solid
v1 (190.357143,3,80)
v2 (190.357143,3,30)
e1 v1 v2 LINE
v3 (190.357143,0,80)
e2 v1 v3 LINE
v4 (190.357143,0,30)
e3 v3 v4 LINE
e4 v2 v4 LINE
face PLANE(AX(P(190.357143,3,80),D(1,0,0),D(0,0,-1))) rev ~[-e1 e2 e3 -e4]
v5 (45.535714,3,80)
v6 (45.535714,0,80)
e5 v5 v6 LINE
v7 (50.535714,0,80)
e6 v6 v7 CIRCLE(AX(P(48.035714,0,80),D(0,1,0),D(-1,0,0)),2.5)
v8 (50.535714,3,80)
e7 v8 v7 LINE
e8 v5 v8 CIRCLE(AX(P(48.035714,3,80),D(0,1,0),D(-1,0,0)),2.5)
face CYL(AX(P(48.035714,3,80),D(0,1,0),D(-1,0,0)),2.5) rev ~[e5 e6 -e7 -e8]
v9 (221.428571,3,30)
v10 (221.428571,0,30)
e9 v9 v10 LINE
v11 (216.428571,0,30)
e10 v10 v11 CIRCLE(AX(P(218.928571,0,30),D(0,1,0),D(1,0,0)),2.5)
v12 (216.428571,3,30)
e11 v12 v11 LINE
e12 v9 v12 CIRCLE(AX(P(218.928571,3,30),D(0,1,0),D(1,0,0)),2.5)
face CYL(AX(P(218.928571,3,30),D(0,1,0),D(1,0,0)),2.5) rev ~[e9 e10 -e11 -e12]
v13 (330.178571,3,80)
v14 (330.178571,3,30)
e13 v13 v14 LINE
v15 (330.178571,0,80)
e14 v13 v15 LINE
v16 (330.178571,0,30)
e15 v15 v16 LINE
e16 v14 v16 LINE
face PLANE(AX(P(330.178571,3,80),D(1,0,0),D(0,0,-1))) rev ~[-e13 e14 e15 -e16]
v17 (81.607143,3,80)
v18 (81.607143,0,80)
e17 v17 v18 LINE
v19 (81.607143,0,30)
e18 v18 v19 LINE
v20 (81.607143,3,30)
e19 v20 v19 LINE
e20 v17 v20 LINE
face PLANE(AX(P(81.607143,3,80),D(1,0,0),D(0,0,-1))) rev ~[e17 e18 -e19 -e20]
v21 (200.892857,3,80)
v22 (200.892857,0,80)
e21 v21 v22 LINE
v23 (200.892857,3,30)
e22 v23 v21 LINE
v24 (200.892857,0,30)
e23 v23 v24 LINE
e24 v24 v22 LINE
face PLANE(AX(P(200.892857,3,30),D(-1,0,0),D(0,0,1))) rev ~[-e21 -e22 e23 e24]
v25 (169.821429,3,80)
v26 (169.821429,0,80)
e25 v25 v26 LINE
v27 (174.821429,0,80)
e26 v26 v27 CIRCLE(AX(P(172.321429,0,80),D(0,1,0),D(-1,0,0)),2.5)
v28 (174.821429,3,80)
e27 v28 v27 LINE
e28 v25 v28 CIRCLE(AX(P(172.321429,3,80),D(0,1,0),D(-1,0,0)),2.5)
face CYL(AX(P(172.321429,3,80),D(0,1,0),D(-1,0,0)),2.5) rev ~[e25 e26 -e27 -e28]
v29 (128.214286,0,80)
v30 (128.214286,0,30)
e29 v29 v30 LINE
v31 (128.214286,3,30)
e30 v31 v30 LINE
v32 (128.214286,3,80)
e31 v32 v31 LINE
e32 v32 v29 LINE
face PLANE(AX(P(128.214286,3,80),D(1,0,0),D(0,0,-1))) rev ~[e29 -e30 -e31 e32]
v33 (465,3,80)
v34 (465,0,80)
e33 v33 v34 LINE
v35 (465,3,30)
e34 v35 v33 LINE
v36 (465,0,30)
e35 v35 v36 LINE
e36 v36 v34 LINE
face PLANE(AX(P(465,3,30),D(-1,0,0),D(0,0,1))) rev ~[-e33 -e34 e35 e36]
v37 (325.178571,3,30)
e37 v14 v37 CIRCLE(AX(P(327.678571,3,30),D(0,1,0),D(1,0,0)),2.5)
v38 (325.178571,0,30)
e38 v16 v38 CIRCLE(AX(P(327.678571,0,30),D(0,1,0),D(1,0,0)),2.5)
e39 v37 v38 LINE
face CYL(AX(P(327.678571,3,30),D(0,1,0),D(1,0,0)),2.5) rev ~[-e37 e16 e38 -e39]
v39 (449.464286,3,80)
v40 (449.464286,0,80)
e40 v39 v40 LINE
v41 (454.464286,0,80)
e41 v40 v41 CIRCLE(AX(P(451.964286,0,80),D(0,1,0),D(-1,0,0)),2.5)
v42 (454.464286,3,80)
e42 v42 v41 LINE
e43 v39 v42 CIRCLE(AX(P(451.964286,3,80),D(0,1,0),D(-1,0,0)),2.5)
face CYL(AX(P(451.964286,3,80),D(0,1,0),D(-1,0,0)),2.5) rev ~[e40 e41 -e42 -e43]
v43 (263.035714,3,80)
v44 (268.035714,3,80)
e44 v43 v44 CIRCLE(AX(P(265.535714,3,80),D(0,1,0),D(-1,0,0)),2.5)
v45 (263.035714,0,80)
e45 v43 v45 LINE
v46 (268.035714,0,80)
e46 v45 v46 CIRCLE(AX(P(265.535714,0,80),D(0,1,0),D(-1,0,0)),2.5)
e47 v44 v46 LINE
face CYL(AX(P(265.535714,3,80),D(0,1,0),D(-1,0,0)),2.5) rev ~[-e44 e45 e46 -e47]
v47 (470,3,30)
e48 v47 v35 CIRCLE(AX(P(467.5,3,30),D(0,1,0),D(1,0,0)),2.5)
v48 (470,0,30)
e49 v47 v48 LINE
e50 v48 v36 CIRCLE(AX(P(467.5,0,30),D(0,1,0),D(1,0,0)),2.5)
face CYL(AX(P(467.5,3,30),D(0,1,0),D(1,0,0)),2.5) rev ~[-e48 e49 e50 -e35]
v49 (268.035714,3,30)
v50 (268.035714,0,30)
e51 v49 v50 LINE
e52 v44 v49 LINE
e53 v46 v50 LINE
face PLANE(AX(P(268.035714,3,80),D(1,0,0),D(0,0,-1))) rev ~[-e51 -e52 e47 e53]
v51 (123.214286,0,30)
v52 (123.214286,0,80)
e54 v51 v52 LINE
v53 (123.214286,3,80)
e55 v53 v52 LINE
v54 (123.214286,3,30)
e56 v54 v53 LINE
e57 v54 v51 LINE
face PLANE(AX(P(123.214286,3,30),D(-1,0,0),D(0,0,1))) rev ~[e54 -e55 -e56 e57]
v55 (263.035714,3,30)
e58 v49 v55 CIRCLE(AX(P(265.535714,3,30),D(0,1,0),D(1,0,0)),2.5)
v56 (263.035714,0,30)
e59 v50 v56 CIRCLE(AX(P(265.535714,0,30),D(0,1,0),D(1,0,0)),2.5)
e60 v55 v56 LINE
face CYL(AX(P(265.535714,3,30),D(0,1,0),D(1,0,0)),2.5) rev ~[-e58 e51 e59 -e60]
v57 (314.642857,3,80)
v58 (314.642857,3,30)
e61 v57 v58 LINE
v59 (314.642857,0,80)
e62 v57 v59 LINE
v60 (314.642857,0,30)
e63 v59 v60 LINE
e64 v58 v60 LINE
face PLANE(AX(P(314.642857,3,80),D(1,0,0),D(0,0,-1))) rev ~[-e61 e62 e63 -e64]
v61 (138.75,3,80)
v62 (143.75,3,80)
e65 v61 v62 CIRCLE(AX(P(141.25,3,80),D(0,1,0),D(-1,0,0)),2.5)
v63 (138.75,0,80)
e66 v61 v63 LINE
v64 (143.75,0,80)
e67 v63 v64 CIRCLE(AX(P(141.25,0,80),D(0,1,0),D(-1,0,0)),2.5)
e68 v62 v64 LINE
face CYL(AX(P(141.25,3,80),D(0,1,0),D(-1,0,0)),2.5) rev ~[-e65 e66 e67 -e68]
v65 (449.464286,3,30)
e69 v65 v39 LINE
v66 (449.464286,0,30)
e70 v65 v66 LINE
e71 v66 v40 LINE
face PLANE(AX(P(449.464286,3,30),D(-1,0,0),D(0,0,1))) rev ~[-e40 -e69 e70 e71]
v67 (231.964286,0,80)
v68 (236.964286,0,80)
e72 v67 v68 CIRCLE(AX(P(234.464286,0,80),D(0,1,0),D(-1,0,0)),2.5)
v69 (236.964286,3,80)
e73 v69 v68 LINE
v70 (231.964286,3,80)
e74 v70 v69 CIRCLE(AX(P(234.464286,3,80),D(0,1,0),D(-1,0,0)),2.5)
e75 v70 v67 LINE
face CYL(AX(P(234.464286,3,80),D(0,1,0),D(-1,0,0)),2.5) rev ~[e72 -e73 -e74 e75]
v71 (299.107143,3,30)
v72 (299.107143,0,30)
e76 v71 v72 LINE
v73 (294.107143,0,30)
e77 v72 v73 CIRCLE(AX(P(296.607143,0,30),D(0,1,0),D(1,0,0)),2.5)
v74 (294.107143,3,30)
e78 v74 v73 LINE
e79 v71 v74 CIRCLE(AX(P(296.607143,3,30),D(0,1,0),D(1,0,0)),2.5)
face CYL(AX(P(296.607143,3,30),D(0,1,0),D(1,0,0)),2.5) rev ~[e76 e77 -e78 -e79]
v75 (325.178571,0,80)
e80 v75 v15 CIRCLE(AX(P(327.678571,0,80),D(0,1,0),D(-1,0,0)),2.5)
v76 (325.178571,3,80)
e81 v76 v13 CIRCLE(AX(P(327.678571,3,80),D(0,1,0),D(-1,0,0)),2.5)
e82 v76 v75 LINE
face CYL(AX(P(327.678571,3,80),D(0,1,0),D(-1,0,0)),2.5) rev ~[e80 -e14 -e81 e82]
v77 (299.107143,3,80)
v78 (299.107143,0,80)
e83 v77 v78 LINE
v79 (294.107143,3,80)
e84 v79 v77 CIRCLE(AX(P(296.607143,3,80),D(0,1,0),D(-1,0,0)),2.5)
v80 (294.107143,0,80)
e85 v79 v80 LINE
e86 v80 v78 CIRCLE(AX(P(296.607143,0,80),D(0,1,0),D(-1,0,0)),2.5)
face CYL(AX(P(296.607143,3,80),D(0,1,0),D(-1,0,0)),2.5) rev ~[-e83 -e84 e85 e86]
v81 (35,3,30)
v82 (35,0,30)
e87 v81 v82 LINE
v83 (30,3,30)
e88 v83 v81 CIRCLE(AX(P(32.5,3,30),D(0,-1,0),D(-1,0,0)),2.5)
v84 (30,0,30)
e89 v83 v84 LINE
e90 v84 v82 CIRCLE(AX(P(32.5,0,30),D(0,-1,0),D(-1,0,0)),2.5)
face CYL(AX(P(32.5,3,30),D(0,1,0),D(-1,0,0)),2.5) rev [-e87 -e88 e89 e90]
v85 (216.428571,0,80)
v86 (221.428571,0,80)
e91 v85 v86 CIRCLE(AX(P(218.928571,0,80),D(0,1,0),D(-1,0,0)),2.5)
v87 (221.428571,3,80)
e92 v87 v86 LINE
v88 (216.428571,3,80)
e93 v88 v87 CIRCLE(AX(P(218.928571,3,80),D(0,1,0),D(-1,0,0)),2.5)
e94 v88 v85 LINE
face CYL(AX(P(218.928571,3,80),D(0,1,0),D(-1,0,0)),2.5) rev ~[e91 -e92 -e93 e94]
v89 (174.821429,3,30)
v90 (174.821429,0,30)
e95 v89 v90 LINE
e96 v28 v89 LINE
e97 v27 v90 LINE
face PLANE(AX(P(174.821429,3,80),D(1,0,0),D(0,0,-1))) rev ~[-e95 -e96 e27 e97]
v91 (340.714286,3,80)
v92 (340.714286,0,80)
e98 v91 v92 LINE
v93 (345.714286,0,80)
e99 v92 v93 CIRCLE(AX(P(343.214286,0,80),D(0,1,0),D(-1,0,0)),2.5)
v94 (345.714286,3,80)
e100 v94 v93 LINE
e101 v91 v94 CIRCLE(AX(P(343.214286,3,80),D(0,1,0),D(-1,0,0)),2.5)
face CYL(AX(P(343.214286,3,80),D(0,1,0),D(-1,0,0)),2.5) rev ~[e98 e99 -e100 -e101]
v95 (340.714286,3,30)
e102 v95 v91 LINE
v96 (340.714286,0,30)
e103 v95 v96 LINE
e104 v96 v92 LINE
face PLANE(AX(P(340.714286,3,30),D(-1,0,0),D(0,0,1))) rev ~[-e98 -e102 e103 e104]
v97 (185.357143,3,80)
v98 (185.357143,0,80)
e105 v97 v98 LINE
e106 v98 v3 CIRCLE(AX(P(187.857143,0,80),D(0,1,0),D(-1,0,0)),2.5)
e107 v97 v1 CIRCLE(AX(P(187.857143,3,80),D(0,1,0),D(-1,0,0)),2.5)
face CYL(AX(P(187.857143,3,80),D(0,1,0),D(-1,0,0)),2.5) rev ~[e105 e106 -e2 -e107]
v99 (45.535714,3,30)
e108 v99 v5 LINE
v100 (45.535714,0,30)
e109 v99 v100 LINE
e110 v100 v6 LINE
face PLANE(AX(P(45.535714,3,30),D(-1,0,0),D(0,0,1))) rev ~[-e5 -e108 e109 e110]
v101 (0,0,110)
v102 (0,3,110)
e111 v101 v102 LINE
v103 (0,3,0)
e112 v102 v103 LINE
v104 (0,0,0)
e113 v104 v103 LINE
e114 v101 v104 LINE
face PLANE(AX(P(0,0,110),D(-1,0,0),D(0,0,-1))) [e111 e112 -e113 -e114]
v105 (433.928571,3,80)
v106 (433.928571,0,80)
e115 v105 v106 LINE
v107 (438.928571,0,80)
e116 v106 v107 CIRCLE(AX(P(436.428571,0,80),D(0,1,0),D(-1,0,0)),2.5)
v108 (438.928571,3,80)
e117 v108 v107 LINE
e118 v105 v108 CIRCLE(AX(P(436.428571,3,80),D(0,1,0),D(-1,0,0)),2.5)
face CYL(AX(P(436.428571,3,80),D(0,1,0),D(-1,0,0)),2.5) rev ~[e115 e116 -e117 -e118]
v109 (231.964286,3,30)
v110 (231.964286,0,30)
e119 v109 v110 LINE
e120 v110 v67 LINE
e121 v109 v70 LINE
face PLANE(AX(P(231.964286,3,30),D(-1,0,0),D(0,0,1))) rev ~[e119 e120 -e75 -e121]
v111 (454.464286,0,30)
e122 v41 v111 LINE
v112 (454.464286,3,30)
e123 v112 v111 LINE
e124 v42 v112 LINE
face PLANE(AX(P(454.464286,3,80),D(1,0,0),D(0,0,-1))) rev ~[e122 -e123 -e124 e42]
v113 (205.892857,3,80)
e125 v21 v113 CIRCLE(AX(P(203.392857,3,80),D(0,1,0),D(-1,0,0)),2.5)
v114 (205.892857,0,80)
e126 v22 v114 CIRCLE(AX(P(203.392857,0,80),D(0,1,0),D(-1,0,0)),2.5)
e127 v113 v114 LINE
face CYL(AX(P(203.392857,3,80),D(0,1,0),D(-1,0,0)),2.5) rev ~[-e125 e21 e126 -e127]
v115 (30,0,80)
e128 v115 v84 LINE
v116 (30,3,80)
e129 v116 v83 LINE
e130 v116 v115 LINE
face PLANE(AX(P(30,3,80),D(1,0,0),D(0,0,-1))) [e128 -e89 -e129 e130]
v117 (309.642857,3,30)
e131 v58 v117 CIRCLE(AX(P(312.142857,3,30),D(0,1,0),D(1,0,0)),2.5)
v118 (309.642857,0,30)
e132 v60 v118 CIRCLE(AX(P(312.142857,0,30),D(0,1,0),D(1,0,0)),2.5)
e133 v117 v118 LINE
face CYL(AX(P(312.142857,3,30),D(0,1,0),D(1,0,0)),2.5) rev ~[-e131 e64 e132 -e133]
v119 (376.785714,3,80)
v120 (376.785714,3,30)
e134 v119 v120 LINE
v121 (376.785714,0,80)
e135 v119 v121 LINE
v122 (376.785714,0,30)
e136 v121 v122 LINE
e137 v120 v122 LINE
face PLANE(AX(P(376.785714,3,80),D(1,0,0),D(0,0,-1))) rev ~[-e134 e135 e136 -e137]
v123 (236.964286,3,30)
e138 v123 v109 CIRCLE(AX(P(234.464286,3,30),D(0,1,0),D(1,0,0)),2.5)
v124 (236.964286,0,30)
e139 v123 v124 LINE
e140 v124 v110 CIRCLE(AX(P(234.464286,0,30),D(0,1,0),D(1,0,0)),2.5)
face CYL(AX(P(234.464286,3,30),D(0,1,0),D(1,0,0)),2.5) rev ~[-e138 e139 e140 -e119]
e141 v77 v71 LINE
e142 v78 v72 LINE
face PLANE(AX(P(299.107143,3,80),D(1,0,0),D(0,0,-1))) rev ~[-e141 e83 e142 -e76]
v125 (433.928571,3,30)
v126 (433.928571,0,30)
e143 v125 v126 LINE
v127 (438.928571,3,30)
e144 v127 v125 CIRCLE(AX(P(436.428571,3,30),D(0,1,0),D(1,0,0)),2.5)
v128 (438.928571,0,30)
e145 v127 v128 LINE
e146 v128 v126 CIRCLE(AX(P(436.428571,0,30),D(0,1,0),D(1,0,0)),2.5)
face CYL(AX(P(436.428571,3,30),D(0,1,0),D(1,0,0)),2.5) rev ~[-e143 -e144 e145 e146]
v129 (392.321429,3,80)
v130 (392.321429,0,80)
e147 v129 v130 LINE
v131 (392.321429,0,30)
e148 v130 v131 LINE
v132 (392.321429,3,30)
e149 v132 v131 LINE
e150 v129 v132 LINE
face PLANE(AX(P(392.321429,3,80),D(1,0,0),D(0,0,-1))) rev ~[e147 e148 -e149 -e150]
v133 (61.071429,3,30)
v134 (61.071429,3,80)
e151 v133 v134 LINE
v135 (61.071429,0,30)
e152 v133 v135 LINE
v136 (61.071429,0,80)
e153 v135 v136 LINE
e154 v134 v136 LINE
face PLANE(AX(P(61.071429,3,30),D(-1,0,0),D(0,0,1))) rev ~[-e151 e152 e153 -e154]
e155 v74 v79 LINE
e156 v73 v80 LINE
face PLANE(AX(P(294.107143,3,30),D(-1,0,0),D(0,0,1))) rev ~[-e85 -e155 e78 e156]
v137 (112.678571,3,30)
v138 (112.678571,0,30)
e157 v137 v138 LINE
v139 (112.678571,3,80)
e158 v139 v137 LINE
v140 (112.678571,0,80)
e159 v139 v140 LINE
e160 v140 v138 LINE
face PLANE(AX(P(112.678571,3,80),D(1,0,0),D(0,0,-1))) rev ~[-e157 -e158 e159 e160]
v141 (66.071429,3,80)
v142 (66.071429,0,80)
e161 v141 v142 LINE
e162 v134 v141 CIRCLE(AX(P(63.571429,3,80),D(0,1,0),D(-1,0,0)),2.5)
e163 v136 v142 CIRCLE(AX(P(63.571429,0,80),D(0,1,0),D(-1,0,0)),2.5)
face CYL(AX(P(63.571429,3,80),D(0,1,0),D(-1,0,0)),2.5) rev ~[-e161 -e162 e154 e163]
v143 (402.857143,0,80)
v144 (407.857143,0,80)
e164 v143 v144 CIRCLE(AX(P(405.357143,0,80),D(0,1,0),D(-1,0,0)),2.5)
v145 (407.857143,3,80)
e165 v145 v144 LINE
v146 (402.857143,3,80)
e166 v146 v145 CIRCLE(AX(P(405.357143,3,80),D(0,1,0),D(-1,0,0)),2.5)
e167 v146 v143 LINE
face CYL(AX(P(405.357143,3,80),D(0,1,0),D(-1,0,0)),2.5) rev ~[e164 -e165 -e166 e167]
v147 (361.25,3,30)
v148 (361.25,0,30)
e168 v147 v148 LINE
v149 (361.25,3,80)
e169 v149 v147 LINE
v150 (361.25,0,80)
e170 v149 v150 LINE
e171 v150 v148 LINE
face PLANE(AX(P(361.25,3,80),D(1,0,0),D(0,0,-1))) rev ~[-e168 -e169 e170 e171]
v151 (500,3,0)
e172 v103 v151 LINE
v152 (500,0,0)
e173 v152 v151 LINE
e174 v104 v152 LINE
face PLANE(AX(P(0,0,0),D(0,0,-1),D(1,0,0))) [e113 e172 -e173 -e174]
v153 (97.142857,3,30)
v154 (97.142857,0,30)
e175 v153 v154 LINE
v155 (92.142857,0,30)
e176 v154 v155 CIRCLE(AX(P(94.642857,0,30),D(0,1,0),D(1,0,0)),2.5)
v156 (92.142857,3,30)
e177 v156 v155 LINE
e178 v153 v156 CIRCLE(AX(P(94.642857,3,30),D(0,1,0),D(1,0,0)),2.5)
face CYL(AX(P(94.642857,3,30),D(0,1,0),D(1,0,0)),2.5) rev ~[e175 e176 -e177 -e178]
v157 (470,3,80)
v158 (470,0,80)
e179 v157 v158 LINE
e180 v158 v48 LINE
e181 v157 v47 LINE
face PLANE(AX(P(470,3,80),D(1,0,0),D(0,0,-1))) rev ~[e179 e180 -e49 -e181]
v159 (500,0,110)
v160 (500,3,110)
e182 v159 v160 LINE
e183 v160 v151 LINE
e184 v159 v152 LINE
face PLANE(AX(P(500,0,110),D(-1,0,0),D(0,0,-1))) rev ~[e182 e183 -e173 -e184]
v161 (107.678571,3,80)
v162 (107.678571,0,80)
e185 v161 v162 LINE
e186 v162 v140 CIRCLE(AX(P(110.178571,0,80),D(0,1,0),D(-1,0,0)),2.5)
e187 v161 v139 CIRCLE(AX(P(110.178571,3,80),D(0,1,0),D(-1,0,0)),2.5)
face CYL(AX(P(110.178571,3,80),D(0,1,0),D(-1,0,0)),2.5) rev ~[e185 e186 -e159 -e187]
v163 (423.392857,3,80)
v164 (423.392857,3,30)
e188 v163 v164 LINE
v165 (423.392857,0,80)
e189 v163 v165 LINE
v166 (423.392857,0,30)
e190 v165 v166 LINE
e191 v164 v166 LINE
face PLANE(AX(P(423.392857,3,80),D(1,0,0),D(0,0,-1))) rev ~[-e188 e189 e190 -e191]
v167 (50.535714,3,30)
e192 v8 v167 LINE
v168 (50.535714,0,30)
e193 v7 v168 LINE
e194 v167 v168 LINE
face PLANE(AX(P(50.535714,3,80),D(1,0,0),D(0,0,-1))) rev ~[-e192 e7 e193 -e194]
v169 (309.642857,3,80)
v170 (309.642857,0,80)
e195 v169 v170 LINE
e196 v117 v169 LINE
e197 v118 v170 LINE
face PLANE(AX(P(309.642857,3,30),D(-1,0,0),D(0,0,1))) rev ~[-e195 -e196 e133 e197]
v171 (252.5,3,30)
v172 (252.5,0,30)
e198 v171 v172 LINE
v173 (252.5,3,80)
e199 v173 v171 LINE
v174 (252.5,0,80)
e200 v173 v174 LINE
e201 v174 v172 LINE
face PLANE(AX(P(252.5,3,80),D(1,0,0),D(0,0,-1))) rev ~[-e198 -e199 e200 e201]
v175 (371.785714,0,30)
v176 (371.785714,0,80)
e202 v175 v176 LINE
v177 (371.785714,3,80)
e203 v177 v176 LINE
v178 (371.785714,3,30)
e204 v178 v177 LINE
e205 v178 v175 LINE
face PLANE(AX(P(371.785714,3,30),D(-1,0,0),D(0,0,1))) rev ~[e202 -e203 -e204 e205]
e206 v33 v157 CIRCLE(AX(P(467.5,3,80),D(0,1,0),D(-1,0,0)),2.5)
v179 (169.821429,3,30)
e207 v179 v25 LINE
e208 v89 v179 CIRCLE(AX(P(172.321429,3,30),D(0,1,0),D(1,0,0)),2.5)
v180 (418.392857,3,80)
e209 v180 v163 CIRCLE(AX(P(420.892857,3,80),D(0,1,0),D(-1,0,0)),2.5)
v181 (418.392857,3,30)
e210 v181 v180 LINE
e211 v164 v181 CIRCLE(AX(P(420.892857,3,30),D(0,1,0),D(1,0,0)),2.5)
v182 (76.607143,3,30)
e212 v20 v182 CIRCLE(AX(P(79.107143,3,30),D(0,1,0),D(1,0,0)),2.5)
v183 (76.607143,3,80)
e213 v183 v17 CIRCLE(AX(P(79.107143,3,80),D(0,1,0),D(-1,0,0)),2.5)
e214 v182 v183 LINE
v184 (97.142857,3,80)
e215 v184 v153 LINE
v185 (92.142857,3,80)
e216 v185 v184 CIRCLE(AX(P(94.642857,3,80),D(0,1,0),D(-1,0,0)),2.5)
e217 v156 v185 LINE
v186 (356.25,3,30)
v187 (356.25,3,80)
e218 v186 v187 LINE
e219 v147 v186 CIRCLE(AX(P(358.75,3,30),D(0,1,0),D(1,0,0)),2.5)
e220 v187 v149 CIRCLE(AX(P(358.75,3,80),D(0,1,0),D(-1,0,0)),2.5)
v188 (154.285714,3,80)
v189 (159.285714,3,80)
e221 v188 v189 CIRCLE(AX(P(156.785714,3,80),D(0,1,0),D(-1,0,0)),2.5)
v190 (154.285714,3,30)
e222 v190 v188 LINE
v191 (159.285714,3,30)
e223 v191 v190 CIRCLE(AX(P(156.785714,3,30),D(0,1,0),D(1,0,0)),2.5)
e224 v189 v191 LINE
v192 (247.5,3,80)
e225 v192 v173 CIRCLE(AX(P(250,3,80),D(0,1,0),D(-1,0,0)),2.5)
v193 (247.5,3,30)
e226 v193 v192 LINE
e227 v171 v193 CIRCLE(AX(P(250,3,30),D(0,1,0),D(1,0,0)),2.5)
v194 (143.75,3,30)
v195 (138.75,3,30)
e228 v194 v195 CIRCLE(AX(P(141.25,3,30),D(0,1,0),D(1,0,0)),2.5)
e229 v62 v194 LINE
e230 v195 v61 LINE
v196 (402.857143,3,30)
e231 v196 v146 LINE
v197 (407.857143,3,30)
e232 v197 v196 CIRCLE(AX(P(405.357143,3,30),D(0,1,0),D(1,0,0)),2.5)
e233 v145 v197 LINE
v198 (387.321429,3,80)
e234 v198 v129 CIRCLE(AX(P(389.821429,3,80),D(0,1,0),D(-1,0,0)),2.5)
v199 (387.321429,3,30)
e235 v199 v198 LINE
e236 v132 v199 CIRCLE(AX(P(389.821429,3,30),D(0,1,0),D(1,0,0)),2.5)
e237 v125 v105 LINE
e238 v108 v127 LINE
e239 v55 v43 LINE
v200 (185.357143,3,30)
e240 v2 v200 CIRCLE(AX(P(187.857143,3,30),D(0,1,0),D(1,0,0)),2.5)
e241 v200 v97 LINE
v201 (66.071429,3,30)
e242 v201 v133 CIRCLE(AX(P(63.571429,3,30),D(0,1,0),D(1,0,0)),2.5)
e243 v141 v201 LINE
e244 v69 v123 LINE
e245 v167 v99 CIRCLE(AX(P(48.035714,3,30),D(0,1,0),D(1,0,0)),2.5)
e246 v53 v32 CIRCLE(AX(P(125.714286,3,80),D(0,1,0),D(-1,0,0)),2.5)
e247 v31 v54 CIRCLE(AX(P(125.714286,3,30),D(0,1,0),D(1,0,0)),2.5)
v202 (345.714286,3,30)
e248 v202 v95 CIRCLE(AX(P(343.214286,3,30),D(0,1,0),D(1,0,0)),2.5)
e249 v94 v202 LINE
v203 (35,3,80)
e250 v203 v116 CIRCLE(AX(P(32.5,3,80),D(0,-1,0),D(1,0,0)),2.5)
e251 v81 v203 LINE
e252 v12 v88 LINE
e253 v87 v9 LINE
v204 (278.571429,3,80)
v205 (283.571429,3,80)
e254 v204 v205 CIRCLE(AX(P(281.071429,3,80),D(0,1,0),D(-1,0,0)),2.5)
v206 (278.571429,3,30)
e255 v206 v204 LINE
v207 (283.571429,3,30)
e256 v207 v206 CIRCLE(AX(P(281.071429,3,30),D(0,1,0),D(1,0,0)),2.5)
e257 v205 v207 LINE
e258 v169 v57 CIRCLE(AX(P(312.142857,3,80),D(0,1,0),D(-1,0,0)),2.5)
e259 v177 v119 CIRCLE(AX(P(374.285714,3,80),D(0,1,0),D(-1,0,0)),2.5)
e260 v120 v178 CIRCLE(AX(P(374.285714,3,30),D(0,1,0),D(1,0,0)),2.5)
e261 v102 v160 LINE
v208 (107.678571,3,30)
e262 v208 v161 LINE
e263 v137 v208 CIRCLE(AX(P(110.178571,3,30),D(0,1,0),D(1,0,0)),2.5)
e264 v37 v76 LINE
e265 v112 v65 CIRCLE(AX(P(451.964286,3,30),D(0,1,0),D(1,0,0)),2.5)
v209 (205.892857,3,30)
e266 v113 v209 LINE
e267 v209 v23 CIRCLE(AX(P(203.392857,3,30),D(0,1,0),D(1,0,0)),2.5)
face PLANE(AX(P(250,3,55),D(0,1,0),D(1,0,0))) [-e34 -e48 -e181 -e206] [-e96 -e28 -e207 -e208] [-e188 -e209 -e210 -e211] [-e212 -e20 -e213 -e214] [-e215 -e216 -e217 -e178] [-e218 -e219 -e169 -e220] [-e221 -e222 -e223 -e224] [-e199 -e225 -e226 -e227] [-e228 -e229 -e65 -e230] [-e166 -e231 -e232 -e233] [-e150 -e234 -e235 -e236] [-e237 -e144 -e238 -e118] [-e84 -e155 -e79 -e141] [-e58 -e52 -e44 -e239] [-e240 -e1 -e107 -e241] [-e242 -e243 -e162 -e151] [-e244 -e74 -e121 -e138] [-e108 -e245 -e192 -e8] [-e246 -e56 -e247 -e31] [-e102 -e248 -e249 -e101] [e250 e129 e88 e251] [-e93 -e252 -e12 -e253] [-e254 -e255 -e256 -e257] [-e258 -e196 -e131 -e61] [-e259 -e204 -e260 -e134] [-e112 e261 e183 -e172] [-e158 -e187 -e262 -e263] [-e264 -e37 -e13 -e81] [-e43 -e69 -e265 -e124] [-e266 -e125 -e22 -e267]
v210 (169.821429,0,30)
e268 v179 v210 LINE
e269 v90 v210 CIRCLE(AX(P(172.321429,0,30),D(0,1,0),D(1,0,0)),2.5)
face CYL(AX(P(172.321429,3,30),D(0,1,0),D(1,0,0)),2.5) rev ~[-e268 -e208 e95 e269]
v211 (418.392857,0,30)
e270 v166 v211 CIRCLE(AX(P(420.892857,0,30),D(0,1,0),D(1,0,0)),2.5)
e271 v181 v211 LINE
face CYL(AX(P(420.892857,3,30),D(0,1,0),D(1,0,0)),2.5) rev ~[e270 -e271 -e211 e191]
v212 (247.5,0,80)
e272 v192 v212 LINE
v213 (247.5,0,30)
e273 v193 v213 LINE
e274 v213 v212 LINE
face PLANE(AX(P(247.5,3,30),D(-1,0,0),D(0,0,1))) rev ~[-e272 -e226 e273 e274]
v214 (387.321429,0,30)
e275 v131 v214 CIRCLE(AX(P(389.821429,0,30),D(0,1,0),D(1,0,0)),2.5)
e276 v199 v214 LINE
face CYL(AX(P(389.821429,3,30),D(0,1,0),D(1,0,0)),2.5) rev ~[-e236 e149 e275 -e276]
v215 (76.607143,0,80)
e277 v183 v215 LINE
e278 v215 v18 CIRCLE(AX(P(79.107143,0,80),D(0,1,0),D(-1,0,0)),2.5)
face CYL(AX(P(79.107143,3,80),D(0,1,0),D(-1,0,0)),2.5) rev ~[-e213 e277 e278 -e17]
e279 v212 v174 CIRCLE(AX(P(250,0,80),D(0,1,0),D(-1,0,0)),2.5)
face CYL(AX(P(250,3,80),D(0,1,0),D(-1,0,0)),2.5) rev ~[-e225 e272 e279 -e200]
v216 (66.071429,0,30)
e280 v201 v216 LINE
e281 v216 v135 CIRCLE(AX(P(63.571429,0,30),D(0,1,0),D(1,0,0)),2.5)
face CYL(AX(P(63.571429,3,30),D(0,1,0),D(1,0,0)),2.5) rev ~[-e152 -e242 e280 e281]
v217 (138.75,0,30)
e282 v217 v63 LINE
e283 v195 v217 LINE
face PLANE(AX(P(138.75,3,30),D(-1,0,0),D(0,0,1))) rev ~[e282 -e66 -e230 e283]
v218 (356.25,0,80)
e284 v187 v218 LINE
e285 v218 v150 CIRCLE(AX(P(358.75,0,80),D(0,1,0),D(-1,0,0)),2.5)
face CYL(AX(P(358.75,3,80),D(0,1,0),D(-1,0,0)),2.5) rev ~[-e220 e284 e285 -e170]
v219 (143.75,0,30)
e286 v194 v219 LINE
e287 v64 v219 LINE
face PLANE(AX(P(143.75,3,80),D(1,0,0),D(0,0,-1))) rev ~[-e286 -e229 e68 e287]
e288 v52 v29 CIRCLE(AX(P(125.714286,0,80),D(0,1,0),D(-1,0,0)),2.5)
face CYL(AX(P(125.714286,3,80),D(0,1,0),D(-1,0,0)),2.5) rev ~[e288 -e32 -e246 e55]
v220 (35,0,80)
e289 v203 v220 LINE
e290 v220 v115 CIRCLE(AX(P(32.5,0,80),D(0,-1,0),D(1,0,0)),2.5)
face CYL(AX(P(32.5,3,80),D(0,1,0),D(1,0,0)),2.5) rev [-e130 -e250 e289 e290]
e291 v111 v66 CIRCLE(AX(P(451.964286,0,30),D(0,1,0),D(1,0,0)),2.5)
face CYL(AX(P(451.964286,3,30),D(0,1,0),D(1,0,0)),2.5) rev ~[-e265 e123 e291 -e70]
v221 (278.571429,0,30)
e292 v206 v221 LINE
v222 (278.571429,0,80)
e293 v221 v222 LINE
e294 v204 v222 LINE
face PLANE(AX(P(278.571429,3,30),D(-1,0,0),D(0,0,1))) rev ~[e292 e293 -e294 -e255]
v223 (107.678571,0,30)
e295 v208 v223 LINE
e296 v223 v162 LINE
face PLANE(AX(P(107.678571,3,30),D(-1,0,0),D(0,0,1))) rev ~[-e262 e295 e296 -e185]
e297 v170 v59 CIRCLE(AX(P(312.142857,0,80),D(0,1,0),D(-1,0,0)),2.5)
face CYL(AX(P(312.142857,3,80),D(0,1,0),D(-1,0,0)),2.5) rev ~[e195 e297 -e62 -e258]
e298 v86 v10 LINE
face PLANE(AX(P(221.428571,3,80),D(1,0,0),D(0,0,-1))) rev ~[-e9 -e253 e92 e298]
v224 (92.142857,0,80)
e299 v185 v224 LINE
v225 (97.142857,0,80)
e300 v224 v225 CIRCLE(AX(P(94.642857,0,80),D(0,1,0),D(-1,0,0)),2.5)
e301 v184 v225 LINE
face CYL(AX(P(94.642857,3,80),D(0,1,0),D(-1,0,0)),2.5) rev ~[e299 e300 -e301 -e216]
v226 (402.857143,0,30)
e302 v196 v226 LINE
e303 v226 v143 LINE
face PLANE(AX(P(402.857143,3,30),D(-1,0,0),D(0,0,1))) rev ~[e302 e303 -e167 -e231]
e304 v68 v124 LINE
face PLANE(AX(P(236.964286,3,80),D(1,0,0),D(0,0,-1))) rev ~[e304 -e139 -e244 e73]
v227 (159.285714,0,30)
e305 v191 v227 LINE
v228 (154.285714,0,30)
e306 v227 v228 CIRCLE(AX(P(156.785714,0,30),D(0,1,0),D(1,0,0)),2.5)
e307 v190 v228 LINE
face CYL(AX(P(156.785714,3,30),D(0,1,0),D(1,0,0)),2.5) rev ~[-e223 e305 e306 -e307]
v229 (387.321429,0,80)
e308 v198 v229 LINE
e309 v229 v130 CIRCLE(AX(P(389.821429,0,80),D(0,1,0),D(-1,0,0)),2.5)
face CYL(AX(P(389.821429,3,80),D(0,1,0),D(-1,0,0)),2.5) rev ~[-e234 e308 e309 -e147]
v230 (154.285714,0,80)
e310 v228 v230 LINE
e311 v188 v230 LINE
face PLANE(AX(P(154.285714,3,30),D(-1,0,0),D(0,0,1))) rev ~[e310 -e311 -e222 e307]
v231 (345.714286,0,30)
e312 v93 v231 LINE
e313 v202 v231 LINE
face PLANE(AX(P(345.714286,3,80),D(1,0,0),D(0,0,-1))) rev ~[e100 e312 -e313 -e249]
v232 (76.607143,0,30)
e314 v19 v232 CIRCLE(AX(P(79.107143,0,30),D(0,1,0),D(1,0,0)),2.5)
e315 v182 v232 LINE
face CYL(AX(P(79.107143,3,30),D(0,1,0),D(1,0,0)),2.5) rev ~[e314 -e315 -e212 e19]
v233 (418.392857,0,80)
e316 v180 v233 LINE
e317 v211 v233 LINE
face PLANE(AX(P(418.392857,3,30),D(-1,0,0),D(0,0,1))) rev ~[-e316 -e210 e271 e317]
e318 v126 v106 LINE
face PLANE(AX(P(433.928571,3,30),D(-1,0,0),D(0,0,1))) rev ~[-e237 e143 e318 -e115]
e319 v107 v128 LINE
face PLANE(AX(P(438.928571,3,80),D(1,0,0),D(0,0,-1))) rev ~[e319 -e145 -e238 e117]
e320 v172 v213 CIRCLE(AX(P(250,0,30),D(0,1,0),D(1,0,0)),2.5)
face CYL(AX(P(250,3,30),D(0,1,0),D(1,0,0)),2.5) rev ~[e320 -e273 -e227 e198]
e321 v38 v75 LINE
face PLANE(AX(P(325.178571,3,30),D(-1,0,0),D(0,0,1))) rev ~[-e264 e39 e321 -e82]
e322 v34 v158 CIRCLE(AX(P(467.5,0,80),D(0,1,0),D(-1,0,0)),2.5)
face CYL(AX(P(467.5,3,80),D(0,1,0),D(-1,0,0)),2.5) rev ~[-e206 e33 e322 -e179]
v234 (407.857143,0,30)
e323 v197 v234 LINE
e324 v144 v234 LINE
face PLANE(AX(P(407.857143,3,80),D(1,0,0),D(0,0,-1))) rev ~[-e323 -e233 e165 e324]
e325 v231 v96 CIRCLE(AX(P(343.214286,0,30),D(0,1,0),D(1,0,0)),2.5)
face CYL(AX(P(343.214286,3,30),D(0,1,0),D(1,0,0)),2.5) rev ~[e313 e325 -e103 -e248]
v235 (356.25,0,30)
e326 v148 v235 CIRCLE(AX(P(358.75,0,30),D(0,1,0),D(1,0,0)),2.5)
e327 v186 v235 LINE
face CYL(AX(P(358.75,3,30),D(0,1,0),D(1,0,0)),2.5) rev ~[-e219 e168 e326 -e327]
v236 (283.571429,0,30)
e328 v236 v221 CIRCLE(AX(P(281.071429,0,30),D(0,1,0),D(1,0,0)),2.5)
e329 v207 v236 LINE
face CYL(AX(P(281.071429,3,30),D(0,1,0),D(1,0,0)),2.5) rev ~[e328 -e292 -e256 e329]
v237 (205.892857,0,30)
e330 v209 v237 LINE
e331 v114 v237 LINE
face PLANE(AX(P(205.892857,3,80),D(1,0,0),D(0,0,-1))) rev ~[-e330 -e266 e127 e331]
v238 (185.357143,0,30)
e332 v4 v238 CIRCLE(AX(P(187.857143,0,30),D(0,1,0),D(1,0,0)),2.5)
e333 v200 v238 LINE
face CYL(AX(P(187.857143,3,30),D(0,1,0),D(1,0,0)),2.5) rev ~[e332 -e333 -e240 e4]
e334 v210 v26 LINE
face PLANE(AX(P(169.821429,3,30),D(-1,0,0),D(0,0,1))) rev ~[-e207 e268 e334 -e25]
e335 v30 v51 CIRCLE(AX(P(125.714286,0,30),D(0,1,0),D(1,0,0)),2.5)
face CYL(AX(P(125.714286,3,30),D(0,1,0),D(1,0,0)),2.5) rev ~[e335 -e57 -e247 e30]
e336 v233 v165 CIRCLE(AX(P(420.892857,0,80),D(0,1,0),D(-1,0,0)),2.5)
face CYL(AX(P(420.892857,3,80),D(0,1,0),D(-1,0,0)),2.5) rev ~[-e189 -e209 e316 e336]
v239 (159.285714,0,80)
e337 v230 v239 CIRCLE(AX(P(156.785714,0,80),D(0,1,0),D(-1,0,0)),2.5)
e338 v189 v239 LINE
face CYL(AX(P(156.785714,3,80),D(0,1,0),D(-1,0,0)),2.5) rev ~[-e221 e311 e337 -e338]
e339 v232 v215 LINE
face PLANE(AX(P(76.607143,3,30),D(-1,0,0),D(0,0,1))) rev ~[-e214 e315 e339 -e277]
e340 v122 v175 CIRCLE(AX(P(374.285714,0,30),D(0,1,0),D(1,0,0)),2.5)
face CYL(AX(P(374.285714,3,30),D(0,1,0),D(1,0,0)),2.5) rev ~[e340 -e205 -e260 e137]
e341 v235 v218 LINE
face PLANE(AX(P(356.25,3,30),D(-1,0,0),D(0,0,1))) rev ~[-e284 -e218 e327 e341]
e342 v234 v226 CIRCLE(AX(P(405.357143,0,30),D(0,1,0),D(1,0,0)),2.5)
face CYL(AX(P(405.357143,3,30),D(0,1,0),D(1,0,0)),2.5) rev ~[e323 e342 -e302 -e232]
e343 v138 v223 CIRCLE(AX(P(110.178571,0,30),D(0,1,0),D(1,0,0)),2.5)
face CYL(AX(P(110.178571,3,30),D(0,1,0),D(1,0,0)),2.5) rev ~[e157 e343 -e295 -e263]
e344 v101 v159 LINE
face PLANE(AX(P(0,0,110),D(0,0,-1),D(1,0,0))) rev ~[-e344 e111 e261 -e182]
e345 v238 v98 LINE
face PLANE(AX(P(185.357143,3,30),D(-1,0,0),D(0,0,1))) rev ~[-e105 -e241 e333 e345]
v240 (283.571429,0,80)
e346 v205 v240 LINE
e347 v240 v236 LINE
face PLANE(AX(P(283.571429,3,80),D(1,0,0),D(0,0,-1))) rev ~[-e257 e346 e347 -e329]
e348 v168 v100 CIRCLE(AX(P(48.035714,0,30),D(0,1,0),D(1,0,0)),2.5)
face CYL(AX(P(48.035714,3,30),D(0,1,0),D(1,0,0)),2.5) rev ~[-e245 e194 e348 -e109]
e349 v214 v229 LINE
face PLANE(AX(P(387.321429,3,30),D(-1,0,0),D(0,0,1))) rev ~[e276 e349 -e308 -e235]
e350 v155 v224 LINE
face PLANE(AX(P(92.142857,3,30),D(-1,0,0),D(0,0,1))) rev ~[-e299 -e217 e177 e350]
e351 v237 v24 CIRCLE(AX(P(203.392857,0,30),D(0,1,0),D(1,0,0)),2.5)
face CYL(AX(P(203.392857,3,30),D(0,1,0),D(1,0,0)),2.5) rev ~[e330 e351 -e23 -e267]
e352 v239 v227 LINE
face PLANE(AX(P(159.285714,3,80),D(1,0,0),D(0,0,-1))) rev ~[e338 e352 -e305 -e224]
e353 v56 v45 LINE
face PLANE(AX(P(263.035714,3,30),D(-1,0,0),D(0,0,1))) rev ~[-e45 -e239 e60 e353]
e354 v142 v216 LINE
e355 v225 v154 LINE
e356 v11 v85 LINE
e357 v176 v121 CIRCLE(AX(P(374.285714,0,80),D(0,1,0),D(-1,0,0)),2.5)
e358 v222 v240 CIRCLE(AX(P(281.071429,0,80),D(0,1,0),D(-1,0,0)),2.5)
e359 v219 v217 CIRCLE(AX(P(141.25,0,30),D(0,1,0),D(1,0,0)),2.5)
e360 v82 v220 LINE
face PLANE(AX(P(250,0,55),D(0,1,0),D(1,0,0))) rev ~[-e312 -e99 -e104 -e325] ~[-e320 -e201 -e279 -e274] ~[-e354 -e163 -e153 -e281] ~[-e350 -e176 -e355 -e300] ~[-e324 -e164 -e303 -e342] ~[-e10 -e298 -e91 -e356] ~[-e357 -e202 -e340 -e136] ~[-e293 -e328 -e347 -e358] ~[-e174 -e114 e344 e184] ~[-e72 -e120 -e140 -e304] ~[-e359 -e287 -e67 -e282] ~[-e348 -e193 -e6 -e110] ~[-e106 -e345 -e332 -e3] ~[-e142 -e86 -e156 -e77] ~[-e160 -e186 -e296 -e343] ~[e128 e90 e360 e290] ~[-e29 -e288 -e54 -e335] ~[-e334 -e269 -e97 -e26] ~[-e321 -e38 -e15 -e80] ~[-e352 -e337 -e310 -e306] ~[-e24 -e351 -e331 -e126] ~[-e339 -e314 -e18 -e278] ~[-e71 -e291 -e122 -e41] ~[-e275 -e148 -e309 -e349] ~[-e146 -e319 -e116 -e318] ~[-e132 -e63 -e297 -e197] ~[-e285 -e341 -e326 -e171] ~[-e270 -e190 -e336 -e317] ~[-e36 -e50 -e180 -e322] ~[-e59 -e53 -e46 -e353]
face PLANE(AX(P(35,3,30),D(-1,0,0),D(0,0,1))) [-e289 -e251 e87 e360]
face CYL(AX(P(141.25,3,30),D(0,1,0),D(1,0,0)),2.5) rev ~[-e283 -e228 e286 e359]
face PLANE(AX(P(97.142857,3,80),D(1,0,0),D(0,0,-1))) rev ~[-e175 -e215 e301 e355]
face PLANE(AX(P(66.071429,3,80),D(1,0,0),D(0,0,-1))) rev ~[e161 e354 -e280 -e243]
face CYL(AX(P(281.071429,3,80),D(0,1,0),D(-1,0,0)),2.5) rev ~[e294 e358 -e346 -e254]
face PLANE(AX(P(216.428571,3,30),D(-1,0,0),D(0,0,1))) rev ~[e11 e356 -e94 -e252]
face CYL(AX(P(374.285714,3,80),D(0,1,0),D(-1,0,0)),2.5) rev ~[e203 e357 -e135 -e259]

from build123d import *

# Parameters (mm, degrees)
IZIM1_W                     = 500
IZIM1_H                     = 110
Y_KSEKLIK_EKSTR_ZYON1_DEPTH = 3
KES_EKSTR_ZYON1_DEPTH       = 3


with BuildPart() as part:
    # Çizim1 → Yükseklik-Ekstrüzyon1 (new body)
    with BuildSketch(Plane(origin=(0, 0, 0), x_dir=(1, 0, 0), z_dir=(0, 1, 0))):
        with Locations((250, -55)):
            Rectangle(IZIM1_W, IZIM1_H)
    extrude(amount=Y_KSEKLIK_EKSTR_ZYON1_DEPTH)

    # Çizim2 → Kes-Ekstrüzyon1 (cut)
    with BuildSketch(Plane(origin=(0, 3, 0), x_dir=(1, 0, 0), z_dir=(0, 1, 0))):
        with BuildLine():
            Line((35, -30), (35, -80))
            ThreePointArc((35, -80), (32.5, -82.5), (30, -80))
            Line((30, -80), (30, -30))
            ThreePointArc((30, -30), (32.5, -27.5), (35, -30))
        make_face()
        with BuildLine():
            Line((45.535714286, -30), (45.535714286, -80))
            ThreePointArc((45.535714286, -80), (48.035714286, -82.5), (50.535714286, -80))
            Line((50.535714286, -80), (50.535714286, -30))
            ThreePointArc((50.535714286, -30), (48.035714286, -27.5), (45.535714286, -30))
        make_face()
        with BuildLine():
            Line((61.071428571, -30), (61.071428571, -80))
            ThreePointArc((61.071428571, -80), (63.571428571, -82.5), (66.071428571, -80))
            Line((66.071428571, -80), (66.071428571, -30))
            ThreePointArc((66.071428571, -30), (63.571428571, -27.5), (61.071428571, -30))
        make_face()
        with BuildLine():
            Line((76.607142857, -30), (76.607142857, -80))
            ThreePointArc((76.607142857, -80), (79.107142857, -82.5), (81.607142857, -80))
            Line((81.607142857, -80), (81.607142857, -30))
            ThreePointArc((81.607142857, -30), (79.107142857, -27.5), (76.607142857, -30))
        make_face()
        with BuildLine():
            Line((92.142857143, -30), (92.142857143, -80))
            ThreePointArc((92.142857143, -80), (94.642857143, -82.5), (97.142857143, -80))
            Line((97.142857143, -80), (97.142857143, -30))
            ThreePointArc((97.142857143, -30), (94.642857143, -27.5), (92.142857143, -30))
        make_face()
        with BuildLine():
            Line((107.678571429, -30), (107.678571429, -80))
            ThreePointArc((107.678571429, -80), (110.178571429, -82.5), (112.678571429, -80))
            Line((112.678571429, -80), (112.678571429, -30))
            ThreePointArc((112.678571429, -30), (110.178571429, -27.5), (107.678571429, -30))
        make_face()
        with BuildLine():
            Line((123.214285714, -30), (123.214285714, -80))
            ThreePointArc((123.214285714, -80), (125.714285714, -82.5), (128.214285714, -80))
            Line((128.214285714, -80), (128.214285714, -30))
            ThreePointArc((128.214285714, -30), (125.714285714, -27.5), (123.214285714, -30))
        make_face()
        with BuildLine():
            Line((138.75, -30), (138.75, -80))
            ThreePointArc((138.75, -80), (141.25, -82.5), (143.75, -80))
            Line((143.75, -80), (143.75, -30))
            ThreePointArc((143.75, -30), (141.25, -27.5), (138.75, -30))
        make_face()
        with BuildLine():
            Line((154.285714286, -30), (154.285714286, -80))
            ThreePointArc((154.285714286, -80), (156.785714286, -82.5), (159.285714286, -80))
            Line((159.285714286, -80), (159.285714286, -30))
            ThreePointArc((159.285714286, -30), (156.785714286, -27.5), (154.285714286, -30))
        make_face()
        with BuildLine():
            Line((169.821428571, -30), (169.821428571, -80))
            ThreePointArc((169.821428571, -80), (172.321428571, -82.5), (174.821428571, -80))
            Line((174.821428571, -80), (174.821428571, -30))
            ThreePointArc((174.821428571, -30), (172.321428571, -27.5), (169.821428571, -30))
        make_face()
        with BuildLine():
            Line((185.357142857, -30), (185.357142857, -80))
            ThreePointArc((185.357142857, -80), (187.857142857, -82.5), (190.357142857, -80))
            Line((190.357142857, -80), (190.357142857, -30))
            ThreePointArc((190.357142857, -30), (187.857142857, -27.5), (185.357142857, -30))
        make_face()
        with BuildLine():
            Line((200.892857143, -30), (200.892857143, -80))
            ThreePointArc((200.892857143, -80), (203.392857143, -82.5), (205.892857143, -80))
            Line((205.892857143, -80), (205.892857143, -30))
            ThreePointArc((205.892857143, -30), (203.392857143, -27.5), (200.892857143, -30))
        make_face()
        with BuildLine():
            Line((216.428571429, -30), (216.428571429, -80))
            ThreePointArc((216.428571429, -80), (218.928571429, -82.5), (221.428571429, -80))
            Line((221.428571429, -80), (221.428571429, -30))
            ThreePointArc((221.428571429, -30), (218.928571429, -27.5), (216.428571429, -30))
        make_face()
        with BuildLine():
            Line((231.964285714, -30), (231.964285714, -80))
            ThreePointArc((231.964285714, -80), (234.464285714, -82.5), (236.964285714, -80))
            Line((236.964285714, -80), (236.964285714, -30))
            ThreePointArc((236.964285714, -30), (234.464285714, -27.5), (231.964285714, -30))
        make_face()
        with BuildLine():
            Line((247.5, -30), (247.5, -80))
            ThreePointArc((247.5, -80), (250, -82.5), (252.5, -80))
            Line((252.5, -80), (252.5, -30))
            ThreePointArc((252.5, -30), (250, -27.5), (247.5, -30))
        make_face()
        with BuildLine():
            Line((263.035714286, -30), (263.035714286, -80))
            ThreePointArc((263.035714286, -80), (265.535714286, -82.5), (268.035714286, -80))
            Line((268.035714286, -80), (268.035714286, -30))
            ThreePointArc((268.035714286, -30), (265.535714286, -27.5), (263.035714286, -30))
        make_face()
        with BuildLine():
            Line((278.571428571, -30), (278.571428571, -80))
            ThreePointArc((278.571428571, -80), (281.071428571, -82.5), (283.571428571, -80))
            Line((283.571428571, -80), (283.571428571, -30))
            ThreePointArc((283.571428571, -30), (281.071428571, -27.5), (278.571428571, -30))
        make_face()
        with BuildLine():
            Line((294.107142857, -30), (294.107142857, -80))
            ThreePointArc((294.107142857, -80), (296.607142857, -82.5), (299.107142857, -80))
            Line((299.107142857, -80), (299.107142857, -30))
            ThreePointArc((299.107142857, -30), (296.607142857, -27.5), (294.107142857, -30))
        make_face()
        with BuildLine():
            Line((309.642857143, -30), (309.642857143, -80))
            ThreePointArc((309.642857143, -80), (312.142857143, -82.5), (314.642857143, -80))
            Line((314.642857143, -80), (314.642857143, -30))
            ThreePointArc((314.642857143, -30), (312.142857143, -27.5), (309.642857143, -30))
        make_face()
        with BuildLine():
            Line((325.178571429, -30), (325.178571429, -80))
            ThreePointArc((325.178571429, -80), (327.678571429, -82.5), (330.178571429, -80))
            Line((330.178571429, -80), (330.178571429, -30))
            ThreePointArc((330.178571429, -30), (327.678571429, -27.5), (325.178571429, -30))
        make_face()
        with BuildLine():
            Line((340.714285714, -30), (340.714285714, -80))
            ThreePointArc((340.714285714, -80), (343.214285714, -82.5), (345.714285714, -80))
            Line((345.714285714, -80), (345.714285714, -30))
            ThreePointArc((345.714285714, -30), (343.214285714, -27.5), (340.714285714, -30))
        make_face()
        with BuildLine():
            Line((356.25, -30), (356.25, -80))
            ThreePointArc((356.25, -80), (358.75, -82.5), (361.25, -80))
            Line((361.25, -80), (361.25, -30))
            ThreePointArc((361.25, -30), (358.75, -27.5), (356.25, -30))
        make_face()
        with BuildLine():
            Line((371.785714286, -30), (371.785714286, -80))
            ThreePointArc((371.785714286, -80), (374.285714286, -82.5), (376.785714286, -80))
            Line((376.785714286, -80), (376.785714286, -30))
            ThreePointArc((376.785714286, -30), (374.285714286, -27.5), (371.785714286, -30))
        make_face()
        with BuildLine():
            Line((387.321428571, -30), (387.321428571, -80))
            ThreePointArc((387.321428571, -80), (389.821428571, -82.5), (392.321428571, -80))
            Line((392.321428571, -80), (392.321428571, -30))
            ThreePointArc((392.321428571, -30), (389.821428571, -27.5), (387.321428571, -30))
        make_face()
        with BuildLine():
            Line((402.857142857, -30), (402.857142857, -80))
            ThreePointArc((402.857142857, -80), (405.357142857, -82.5), (407.857142857, -80))
            Line((407.857142857, -80), (407.857142857, -30))
            ThreePointArc((407.857142857, -30), (405.357142857, -27.5), (402.857142857, -30))
        make_face()
        with BuildLine():
            Line((418.392857143, -30), (418.392857143, -80))
            ThreePointArc((418.392857143, -80), (420.892857143, -82.5), (423.392857143, -80))
            Line((423.392857143, -80), (423.392857143, -30))
            ThreePointArc((423.392857143, -30), (420.892857143, -27.5), (418.392857143, -30))
        make_face()
        with BuildLine():
            Line((433.928571429, -30), (433.928571429, -80))
            ThreePointArc((433.928571429, -80), (436.428571429, -82.5), (438.928571429, -80))
            Line((438.928571429, -80), (438.928571429, -30))
            ThreePointArc((438.928571429, -30), (436.428571429, -27.5), (433.928571429, -30))
        make_face()
        with BuildLine():
            Line((449.464285714, -30), (449.464285714, -80))
            ThreePointArc((449.464285714, -80), (451.964285714, -82.5), (454.464285714, -80))
            Line((454.464285714, -80), (454.464285714, -30))
            ThreePointArc((454.464285714, -30), (451.964285714, -27.5), (449.464285714, -30))
        make_face()
        with BuildLine():
            Line((465, -30), (465, -80))
            ThreePointArc((465, -80), (467.5, -82.5), (470, -80))
            Line((470, -80), (470, -30))
            ThreePointArc((470, -30), (467.5, -27.5), (465, -30))
        make_face()
    extrude(amount=-KES_EKSTR_ZYON1_DEPTH, mode=Mode.SUBTRACT)


solid = part.part
